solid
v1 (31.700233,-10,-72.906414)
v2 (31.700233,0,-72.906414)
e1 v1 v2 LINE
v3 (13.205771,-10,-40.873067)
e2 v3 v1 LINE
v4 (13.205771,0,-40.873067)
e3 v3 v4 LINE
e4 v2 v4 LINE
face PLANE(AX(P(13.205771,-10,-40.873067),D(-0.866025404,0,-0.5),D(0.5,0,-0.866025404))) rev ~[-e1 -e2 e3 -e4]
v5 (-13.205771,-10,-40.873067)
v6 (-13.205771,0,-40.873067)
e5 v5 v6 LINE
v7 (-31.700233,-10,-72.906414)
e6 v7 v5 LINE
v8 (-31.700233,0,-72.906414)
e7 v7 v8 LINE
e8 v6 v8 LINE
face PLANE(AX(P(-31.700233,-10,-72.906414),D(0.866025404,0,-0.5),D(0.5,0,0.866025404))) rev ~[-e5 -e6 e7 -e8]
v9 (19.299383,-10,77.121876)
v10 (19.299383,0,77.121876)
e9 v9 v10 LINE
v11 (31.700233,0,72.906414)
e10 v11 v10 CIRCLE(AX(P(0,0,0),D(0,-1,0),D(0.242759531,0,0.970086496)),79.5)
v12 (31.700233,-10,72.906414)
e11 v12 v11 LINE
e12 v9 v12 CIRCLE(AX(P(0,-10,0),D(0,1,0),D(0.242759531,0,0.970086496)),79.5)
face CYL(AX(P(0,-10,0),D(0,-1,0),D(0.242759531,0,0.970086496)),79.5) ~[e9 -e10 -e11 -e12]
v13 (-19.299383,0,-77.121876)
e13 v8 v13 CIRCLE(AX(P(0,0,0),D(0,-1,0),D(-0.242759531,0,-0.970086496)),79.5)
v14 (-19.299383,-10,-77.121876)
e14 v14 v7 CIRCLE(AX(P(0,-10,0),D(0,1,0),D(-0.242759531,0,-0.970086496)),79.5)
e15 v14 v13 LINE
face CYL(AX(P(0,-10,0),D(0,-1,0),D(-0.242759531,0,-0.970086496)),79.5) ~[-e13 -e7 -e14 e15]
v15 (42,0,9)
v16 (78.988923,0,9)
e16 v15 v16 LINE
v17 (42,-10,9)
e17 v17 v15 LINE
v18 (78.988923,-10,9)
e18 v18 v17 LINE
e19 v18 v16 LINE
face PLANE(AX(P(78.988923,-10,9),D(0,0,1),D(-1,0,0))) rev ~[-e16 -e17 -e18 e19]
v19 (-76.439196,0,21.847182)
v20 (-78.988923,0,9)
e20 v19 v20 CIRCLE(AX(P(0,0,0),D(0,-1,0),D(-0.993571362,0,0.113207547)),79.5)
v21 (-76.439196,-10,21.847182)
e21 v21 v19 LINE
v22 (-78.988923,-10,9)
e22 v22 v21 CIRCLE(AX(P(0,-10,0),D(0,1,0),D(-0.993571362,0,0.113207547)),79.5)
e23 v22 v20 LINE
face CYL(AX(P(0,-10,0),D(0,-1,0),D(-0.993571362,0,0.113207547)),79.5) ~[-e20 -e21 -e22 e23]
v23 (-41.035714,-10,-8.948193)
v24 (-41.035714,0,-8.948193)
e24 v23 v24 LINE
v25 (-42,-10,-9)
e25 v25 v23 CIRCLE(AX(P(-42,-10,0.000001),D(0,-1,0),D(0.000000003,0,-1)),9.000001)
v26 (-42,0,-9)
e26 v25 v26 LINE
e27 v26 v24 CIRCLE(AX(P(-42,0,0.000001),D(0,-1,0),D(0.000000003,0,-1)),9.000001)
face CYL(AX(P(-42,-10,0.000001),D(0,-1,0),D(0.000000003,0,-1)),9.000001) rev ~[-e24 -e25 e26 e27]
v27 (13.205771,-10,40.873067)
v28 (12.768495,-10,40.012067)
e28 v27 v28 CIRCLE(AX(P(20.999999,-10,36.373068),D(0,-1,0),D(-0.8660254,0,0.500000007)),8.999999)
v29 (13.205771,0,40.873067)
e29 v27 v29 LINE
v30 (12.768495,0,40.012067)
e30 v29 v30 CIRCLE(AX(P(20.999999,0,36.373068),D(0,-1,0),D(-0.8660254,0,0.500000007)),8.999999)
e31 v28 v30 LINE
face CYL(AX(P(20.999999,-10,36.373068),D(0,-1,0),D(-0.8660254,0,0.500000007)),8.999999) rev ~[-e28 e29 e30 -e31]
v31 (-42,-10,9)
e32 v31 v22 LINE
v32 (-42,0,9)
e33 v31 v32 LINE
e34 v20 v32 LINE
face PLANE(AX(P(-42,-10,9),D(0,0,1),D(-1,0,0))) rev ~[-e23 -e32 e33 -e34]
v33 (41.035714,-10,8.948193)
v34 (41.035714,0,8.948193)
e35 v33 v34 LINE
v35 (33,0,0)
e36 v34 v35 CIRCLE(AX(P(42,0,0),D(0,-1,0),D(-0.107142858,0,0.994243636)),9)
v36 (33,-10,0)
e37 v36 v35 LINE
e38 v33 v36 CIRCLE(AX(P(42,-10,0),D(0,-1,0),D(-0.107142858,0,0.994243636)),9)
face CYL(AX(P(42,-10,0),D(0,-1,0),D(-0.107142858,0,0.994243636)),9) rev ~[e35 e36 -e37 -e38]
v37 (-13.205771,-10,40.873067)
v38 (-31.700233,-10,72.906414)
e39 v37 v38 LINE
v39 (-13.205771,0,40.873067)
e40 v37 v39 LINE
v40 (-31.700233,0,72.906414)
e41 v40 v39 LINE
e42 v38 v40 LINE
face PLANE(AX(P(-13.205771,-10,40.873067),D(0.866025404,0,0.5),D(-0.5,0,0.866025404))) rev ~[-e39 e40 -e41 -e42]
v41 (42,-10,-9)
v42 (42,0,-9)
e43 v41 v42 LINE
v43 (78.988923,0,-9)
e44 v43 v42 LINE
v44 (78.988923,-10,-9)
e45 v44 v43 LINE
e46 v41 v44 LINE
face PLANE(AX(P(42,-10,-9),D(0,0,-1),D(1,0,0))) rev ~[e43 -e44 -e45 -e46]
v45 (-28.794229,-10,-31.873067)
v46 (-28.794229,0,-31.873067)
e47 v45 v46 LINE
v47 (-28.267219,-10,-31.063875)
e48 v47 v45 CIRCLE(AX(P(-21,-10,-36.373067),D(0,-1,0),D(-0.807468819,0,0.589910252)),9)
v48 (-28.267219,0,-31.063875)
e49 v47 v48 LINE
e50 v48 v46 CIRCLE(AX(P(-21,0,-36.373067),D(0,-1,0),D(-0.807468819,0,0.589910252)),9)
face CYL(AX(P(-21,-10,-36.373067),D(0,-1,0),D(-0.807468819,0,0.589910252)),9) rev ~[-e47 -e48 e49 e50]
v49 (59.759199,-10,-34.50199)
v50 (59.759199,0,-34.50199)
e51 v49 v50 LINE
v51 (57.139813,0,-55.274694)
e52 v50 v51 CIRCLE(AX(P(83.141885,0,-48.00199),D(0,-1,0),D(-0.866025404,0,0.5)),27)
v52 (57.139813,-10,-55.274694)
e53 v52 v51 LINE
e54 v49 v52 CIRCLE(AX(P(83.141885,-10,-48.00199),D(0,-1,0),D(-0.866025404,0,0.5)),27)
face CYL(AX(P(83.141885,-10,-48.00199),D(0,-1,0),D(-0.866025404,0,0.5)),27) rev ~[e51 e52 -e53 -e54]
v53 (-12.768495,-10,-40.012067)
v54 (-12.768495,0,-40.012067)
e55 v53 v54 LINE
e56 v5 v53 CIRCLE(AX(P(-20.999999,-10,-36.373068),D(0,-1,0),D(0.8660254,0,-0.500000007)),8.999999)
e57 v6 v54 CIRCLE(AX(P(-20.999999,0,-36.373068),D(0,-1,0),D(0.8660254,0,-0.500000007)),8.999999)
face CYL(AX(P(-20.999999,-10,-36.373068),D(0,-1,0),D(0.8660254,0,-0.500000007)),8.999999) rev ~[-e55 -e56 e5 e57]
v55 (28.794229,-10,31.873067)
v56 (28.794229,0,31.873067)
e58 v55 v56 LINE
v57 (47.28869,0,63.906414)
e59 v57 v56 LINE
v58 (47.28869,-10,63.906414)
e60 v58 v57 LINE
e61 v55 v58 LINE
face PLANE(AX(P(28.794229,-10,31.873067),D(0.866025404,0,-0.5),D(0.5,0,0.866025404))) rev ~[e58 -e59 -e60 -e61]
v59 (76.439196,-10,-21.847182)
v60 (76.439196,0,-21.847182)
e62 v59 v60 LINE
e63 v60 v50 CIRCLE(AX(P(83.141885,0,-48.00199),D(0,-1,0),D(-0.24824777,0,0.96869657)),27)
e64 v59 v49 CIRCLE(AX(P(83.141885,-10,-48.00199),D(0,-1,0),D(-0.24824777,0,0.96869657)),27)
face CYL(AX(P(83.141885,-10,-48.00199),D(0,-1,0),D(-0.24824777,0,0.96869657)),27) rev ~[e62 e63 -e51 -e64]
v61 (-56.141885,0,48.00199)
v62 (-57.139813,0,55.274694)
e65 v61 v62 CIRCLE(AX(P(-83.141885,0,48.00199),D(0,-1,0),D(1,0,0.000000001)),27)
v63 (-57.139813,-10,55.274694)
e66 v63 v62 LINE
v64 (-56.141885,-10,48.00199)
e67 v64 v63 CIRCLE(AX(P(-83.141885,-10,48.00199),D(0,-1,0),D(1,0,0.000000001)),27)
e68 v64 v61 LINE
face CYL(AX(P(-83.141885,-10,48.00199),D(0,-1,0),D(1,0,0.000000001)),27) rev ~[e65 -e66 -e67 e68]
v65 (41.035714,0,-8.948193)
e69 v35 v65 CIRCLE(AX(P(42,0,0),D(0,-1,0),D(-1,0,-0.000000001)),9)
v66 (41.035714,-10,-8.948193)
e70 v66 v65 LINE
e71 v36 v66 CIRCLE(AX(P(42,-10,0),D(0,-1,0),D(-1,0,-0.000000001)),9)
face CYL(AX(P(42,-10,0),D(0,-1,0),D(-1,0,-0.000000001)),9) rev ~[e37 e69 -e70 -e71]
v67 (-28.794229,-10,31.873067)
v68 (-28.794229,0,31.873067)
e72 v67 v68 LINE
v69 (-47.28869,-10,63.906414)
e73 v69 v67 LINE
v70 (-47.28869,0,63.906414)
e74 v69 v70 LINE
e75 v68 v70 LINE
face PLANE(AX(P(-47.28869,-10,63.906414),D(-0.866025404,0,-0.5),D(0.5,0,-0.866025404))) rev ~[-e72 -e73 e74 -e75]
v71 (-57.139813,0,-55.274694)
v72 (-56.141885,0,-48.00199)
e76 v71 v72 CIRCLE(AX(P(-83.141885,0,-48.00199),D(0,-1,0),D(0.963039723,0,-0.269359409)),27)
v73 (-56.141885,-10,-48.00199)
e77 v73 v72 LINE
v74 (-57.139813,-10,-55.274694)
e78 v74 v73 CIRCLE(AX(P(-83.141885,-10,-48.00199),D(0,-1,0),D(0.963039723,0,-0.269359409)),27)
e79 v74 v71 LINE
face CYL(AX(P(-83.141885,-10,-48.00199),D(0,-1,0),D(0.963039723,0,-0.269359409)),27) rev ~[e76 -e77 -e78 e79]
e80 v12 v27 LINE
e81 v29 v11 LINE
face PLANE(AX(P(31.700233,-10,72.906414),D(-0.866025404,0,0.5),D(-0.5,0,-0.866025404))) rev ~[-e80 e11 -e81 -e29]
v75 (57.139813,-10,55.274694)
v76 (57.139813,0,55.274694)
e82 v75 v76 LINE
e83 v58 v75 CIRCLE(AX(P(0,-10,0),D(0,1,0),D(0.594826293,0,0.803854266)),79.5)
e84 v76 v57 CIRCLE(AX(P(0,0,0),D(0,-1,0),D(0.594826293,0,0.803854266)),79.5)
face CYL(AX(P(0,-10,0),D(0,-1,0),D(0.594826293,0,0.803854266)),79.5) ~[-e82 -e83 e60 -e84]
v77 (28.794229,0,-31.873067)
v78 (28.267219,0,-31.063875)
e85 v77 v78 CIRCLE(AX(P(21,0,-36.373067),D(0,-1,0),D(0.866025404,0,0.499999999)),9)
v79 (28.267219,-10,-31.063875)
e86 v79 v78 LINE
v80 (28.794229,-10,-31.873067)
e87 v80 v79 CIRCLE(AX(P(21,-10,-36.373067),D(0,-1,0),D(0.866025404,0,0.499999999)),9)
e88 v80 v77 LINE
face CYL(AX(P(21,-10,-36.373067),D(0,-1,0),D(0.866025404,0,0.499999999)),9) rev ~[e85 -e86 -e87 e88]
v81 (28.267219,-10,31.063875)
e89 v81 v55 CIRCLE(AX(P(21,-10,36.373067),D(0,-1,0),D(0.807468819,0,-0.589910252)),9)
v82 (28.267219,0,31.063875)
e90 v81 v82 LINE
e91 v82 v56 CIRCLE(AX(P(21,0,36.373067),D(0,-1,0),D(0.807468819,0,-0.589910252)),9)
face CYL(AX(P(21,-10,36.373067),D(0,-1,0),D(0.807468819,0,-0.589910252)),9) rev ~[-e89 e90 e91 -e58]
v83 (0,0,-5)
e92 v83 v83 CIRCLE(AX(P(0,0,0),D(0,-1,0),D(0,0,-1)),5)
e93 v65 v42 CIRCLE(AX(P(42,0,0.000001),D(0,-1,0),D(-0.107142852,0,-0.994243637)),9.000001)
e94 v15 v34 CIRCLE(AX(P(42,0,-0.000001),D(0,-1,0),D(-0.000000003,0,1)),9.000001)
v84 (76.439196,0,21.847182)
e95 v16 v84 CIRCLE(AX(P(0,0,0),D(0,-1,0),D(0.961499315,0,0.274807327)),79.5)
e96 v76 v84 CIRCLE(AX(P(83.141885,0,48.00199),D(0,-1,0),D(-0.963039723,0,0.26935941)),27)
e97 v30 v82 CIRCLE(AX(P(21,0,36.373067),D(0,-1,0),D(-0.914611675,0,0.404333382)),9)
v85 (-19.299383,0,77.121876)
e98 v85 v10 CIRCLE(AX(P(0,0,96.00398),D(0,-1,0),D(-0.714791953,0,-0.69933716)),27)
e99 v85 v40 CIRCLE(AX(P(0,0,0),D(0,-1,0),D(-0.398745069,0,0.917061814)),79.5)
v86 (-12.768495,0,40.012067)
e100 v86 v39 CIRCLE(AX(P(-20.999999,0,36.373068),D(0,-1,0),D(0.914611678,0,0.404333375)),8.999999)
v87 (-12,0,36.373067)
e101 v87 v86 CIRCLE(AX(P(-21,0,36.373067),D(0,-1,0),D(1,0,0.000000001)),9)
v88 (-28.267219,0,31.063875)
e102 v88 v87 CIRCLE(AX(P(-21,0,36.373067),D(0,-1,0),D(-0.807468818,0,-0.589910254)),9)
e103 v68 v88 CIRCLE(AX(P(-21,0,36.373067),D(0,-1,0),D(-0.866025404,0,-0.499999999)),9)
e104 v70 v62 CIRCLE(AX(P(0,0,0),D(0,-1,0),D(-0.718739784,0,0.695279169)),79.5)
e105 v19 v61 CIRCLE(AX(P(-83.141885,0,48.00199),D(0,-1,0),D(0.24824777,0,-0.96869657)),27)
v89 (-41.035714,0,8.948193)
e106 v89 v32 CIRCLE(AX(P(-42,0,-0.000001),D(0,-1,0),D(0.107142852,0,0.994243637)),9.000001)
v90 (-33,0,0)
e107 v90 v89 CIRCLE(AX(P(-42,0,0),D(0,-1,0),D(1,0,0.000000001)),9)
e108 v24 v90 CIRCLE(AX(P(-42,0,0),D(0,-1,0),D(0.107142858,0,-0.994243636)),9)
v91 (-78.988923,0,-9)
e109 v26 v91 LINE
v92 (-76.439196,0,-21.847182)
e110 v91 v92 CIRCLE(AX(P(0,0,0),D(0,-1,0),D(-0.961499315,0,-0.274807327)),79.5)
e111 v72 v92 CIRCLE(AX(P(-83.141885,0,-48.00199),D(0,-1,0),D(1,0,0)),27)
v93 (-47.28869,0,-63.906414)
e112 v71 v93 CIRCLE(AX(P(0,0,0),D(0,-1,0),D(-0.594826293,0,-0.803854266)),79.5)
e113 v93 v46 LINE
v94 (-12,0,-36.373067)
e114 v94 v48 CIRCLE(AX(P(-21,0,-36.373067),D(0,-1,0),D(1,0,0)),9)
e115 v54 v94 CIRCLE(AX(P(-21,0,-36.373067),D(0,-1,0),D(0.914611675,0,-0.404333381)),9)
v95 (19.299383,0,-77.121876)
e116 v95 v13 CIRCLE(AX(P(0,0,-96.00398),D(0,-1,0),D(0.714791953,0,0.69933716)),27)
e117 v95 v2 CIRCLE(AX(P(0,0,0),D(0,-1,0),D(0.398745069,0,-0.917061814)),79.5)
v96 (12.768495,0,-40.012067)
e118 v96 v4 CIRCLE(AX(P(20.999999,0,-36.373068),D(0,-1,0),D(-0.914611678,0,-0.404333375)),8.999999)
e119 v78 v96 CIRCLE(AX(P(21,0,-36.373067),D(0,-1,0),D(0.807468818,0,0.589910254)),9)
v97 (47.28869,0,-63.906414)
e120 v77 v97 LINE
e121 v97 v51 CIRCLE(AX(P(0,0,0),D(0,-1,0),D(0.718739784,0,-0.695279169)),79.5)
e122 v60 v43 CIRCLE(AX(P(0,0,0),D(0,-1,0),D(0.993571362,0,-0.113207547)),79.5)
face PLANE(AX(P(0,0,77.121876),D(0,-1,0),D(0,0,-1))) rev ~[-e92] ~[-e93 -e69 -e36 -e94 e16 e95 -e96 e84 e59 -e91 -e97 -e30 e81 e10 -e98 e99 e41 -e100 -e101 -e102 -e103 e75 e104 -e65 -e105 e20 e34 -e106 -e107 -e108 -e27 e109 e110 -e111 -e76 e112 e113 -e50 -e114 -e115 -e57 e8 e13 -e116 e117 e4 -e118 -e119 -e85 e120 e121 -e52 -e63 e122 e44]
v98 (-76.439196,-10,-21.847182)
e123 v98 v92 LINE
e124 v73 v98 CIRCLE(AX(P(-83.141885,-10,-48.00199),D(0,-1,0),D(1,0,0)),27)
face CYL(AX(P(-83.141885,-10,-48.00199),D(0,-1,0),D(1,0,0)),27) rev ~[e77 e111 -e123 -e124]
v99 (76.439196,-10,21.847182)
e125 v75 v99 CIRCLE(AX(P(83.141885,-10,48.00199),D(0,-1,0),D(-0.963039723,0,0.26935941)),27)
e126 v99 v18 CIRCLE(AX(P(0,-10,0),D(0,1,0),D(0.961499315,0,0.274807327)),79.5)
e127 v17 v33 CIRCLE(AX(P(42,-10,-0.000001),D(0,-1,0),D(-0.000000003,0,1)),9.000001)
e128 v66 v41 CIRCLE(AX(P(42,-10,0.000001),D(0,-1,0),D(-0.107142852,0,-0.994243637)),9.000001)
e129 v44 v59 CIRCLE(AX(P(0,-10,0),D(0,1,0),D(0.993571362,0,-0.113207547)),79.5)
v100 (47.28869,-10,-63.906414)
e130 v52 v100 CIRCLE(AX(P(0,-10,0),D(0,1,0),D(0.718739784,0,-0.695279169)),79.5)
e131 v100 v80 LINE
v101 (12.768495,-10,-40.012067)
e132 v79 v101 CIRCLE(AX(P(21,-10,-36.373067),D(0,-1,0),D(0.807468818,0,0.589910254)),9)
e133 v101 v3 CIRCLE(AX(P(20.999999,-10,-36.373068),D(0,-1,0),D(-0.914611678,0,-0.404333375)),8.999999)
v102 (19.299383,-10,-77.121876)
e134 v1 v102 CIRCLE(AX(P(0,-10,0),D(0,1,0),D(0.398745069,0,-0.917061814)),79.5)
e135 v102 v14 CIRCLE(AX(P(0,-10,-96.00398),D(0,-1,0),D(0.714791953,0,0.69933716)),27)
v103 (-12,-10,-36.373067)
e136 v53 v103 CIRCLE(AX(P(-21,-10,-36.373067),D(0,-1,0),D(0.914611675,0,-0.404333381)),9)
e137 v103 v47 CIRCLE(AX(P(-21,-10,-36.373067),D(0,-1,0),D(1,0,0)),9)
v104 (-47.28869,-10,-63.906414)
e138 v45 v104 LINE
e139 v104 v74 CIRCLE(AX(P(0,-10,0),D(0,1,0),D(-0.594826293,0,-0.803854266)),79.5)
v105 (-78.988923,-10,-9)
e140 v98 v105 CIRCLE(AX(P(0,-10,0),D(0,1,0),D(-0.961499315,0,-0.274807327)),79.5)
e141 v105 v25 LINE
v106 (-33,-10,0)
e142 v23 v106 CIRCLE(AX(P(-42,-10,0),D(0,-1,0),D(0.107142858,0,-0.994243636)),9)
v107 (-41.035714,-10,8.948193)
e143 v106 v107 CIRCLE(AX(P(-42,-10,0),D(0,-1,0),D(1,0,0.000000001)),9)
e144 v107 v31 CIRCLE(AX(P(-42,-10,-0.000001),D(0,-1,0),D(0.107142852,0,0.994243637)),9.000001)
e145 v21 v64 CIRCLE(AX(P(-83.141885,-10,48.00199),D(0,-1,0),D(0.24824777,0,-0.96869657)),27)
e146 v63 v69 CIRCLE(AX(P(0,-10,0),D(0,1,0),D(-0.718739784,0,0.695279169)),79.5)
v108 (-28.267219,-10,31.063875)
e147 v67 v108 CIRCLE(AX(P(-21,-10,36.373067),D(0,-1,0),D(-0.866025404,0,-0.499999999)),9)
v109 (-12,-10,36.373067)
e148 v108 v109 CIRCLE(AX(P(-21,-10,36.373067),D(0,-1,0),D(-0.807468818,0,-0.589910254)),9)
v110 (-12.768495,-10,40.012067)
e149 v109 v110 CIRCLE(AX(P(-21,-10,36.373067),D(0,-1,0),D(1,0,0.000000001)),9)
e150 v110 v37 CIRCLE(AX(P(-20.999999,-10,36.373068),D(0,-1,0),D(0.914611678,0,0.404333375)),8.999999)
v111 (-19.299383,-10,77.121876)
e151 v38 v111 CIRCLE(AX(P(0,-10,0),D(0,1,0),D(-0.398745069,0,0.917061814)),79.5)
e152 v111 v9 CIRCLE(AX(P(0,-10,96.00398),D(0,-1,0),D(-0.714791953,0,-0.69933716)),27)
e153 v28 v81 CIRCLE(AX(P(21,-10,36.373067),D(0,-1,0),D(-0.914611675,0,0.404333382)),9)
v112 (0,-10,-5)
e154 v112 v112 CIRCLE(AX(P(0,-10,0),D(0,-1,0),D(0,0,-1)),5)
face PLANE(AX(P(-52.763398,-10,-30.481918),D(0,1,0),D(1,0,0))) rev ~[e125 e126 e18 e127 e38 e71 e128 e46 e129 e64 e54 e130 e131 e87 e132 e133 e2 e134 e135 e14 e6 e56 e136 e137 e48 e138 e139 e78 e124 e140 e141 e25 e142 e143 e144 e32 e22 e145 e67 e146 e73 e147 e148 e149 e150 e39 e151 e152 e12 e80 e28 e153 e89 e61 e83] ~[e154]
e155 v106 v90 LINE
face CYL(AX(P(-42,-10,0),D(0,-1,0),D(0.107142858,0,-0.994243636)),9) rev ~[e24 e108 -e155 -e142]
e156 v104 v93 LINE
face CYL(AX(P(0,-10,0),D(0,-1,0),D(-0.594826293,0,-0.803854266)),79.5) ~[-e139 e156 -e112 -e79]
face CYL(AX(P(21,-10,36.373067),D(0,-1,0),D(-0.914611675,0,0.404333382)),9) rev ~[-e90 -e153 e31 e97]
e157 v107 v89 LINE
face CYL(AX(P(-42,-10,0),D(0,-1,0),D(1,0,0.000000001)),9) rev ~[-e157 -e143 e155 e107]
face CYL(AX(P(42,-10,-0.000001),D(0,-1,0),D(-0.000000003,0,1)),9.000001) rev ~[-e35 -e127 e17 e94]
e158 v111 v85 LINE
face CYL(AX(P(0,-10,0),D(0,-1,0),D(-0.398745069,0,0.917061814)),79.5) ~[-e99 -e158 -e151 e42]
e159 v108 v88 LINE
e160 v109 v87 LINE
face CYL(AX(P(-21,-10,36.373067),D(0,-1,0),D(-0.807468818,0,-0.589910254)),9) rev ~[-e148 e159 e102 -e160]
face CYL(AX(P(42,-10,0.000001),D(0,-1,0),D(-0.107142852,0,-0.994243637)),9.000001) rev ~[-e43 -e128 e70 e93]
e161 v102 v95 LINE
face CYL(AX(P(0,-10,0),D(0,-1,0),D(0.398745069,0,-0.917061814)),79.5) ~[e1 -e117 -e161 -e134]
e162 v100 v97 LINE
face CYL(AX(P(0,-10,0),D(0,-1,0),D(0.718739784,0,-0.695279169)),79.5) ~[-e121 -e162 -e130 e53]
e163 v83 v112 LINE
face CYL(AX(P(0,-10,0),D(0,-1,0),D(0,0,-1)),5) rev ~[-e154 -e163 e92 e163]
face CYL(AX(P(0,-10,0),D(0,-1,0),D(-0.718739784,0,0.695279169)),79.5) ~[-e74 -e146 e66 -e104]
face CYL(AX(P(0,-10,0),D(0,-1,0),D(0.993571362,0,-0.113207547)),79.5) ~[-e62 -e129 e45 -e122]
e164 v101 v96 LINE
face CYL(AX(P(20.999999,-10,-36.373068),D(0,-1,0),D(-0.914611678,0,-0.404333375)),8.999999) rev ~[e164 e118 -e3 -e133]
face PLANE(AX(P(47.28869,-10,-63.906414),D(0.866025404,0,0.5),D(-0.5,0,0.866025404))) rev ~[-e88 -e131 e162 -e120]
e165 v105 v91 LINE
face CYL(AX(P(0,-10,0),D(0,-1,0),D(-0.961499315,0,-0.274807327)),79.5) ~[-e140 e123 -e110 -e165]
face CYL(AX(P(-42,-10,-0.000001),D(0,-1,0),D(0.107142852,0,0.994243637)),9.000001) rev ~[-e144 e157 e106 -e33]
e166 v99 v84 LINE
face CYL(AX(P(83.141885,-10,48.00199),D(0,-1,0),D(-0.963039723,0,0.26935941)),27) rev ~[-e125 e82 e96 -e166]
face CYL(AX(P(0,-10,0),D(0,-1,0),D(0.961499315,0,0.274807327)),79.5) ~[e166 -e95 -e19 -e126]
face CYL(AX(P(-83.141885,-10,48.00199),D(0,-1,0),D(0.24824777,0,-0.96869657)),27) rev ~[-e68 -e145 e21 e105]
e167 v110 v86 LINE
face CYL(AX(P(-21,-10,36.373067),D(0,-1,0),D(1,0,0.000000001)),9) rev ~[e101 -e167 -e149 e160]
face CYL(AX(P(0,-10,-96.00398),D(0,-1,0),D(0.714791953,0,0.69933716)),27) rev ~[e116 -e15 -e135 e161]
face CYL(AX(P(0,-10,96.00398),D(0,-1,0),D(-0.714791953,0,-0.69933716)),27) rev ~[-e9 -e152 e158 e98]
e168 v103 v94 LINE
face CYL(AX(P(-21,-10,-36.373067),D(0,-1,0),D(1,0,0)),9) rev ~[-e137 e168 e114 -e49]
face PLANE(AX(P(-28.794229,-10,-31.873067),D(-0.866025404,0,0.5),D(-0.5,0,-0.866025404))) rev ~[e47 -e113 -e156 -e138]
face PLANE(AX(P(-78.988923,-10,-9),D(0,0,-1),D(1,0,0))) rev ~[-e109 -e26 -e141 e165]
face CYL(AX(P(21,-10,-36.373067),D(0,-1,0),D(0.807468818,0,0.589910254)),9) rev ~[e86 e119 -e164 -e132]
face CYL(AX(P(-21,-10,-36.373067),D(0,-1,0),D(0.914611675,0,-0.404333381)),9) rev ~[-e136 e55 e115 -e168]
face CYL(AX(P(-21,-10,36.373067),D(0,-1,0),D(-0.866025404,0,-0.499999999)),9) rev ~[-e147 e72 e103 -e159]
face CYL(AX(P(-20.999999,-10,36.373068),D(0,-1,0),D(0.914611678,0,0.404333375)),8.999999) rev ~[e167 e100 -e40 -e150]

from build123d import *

# Parameters (mm, degrees)
EXTRUDE_2_DEPTH     = 10
SCALE_2_SCALE       = 3
SKETCH_5_W          = 154.243752884
SKETCH_5_H          = 20
CUT_EXTRUDE_1_DEPTH = 113.5
SKETCH_6_R          = 5
CUT_EXTRUDE_2_DEPTH = 113.5


with BuildPart() as part:
    # 草图4 → 凸台-拉伸2 (new body)
    with BuildSketch(Plane(origin=(0, 0, 0), x_dir=(1, 0, 0), z_dir=(0, 1, 0))):
        with BuildLine():
            ThreePointArc((-13.678571429, 2.982730909), (-12.124355653, 7), (-9.422406454, 10.35462489))
            ThreePointArc((-9.422406454, 10.35462489), (-9.513861615, 10.487132461), (-9.598076211, 10.624355653))
            Line((-9.598076211, 10.624355653), (-15.762896757, 21.302138058))
            ThreePointArc((-15.762896757, 21.302138058), (-17.464105133, 19.93125766), (-19.046604272, 18.424897983))
            ThreePointArc((-19.046604272, 18.424897983), (-18.7975102, 17.224138351), (-18.71396178, 16.000663294))
            ThreePointArc((-18.71396178, 16.000663294), (-20.603825728, 10.482877024), (-25.479731852, 7.282394164))
            ThreePointArc((-25.479731852, 7.282394164), (-25.993028029, 5.158729869), (-26.329641091, 3))
            Line((-26.329641091, 3), (-14, 3))
            ThreePointArc((-14, 3), (-13.839053931, 2.995679616), (-13.678571429, 2.982730909))
        make_face()
        with BuildLine():
            ThreePointArc((13.678571429, -2.982730909), (11.767928573, -2.004459314), (11, 0))
            Line((11, 0), (0, 0))
            Line((0, 0), (12.124355653, 7))
            ThreePointArc((12.124355653, 7), (10.903170014, 8.781849671), (9.422406454, 10.35462489))
            ThreePointArc((9.422406454, 10.35462489), (5.5, 9.526279442), (4.256164975, 13.337355799))
            ThreePointArc((4.256164975, 13.337355799), (0, 14), (-4.256164975, 13.337355799))
            ThreePointArc((-4.256164975, 13.337355799), (-4.064739784, 12.744232626), (-4, 12.124355653))
            ThreePointArc((-4, 12.124355653), (-6.069199098, 9.272407252), (-9.422406454, 10.35462489))
            ThreePointArc((-9.422406454, 10.35462489), (-12.124355653, 7), (-13.678571429, 2.982730909))
            ThreePointArc((-13.678571429, 2.982730909), (-11.767928573, 2.004459314), (-11, 0))
            ThreePointArc((-11, 0), (-11.767928573, -2.004459314), (-13.678571429, -2.982730909))
            ThreePointArc((-13.678571429, -2.982730909), (-12.124355653, -7), (-9.422406454, -10.35462489))
            ThreePointArc((-9.422406454, -10.35462489), (-6.069199098, -9.272407252), (-4, -12.124355653))
            ThreePointArc((-4, -12.124355653), (-4.064739784, -12.744232626), (-4.256164975, -13.337355799))
            ThreePointArc((-4.256164975, -13.337355799), (0, -14), (4.256164975, -13.337355799))
            ThreePointArc((4.256164975, -13.337355799), (5.5, -9.526279442), (9.422406454, -10.35462489))
            ThreePointArc((9.422406454, -10.35462489), (12.124355653, -7), (13.678571429, -2.982730909))
        make_face()
        with BuildLine():
            ThreePointArc((-4.256164975, 13.337355799), (0, 14), (4.256164975, 13.337355799))
            ThreePointArc((4.256164975, 13.337355799), (4.325192316, 13.482812077), (4.401923789, 13.624355653))
            Line((4.401923789, 13.624355653), (10.566744334, 24.302138058))
            ThreePointArc((10.566744334, 24.302138058), (8.528922897, 25.089987529), (6.433127579, 25.707292147))
            ThreePointArc((6.433127579, 25.707292147), (0, 23.001326589), (-6.433127579, 25.707292147))
            ThreePointArc((-6.433127579, 25.707292147), (-8.528922897, 25.089987529), (-10.566744334, 24.302138058))
            Line((-10.566744334, 24.302138058), (-4.401923789, 13.624355653))
            ThreePointArc((-4.401923789, 13.624355653), (-4.325192316, 13.482812077), (-4.256164975, 13.337355799))
        make_face()
        with BuildLine():
            ThreePointArc((9.422406454, 10.35462489), (10.903170014, 8.781849671), (12.124355653, 7))
            Line((12.124355653, 7), (19.919733146, 11.500663294))
            ThreePointArc((19.919733146, 11.500663294), (18.784672274, 14.874701965), (19.046604272, 18.424897983))
            ThreePointArc((19.046604272, 18.424897983), (17.464105133, 19.93125766), (15.762896757, 21.302138058))
            Line((15.762896757, 21.302138058), (9.598076211, 10.624355653))
            ThreePointArc((9.598076211, 10.624355653), (9.513861615, 10.487132461), (9.422406454, 10.35462489))
        make_face()
        with BuildLine():
            ThreePointArc((12.124355653, 7), (13.056889914, 5.051497379), (13.678571429, 2.982730909))
            ThreePointArc((13.678571429, 2.982730909), (13.839053931, 2.995679616), (14, 3))
            Line((14, 3), (26.329641091, 3))
            ThreePointArc((26.329641091, 3), (25.993028029, 5.158729869), (25.479731852, 7.282394164))
            ThreePointArc((25.479731852, 7.282394164), (22.274205913, 8.830652409), (19.919733146, 11.500663294))
            Line((19.919733146, 11.500663294), (12.124355653, 7))
        make_face()
        with BuildLine():
            ThreePointArc((14, -3), (13.839053931, -2.995679616), (13.678571429, -2.982730909))
            ThreePointArc((13.678571429, -2.982730909), (12.124355653, -7), (9.422406454, -10.35462489))
            ThreePointArc((9.422406454, -10.35462489), (9.513861615, -10.487132461), (9.598076211, -10.624355653))
            Line((9.598076211, -10.624355653), (15.762896757, -21.302138058))
            ThreePointArc((15.762896757, -21.302138058), (17.464105133, -19.93125766), (19.046604272, -18.424897983))
            ThreePointArc((19.046604272, -18.424897983), (19.919733146, -11.500663294), (25.479731852, -7.282394164))
            ThreePointArc((25.479731852, -7.282394164), (25.993028029, -5.158729869), (26.329641091, -3))
            Line((26.329641091, -3), (14, -3))
        make_face()
        with BuildLine():
            ThreePointArc((4.401923789, -13.624355653), (4.325192316, -13.482812077), (4.256164975, -13.337355799))
            ThreePointArc((4.256164975, -13.337355799), (0, -14), (-4.256164975, -13.337355799))
            ThreePointArc((-4.256164975, -13.337355799), (-4.325192316, -13.482812077), (-4.401923789, -13.624355653))
            Line((-4.401923789, -13.624355653), (-10.566744334, -24.302138058))
            ThreePointArc((-10.566744334, -24.302138058), (-8.528922897, -25.089987529), (-6.433127579, -25.707292147))
            ThreePointArc((-6.433127579, -25.707292147), (0, -23.001326589), (6.433127579, -25.707292147))
            ThreePointArc((6.433127579, -25.707292147), (8.528922897, -25.089987529), (10.566744334, -24.302138058))
            Line((10.566744334, -24.302138058), (4.401923789, -13.624355653))
        make_face()
        with BuildLine():
            ThreePointArc((-9.598076211, -10.624355653), (-9.513861615, -10.487132461), (-9.422406454, -10.35462489))
            ThreePointArc((-9.422406454, -10.35462489), (-12.124355653, -7), (-13.678571429, -2.982730909))
            ThreePointArc((-13.678571429, -2.982730909), (-13.839053931, -2.995679616), (-14, -3))
            Line((-14, -3), (-26.329641091, -3))
            ThreePointArc((-26.329641091, -3), (-25.993028029, -5.158729869), (-25.479731852, -7.282394164))
            ThreePointArc((-25.479731852, -7.282394164), (-20.603825728, -10.482877024), (-18.71396178, -16.000663294))
            ThreePointArc((-18.71396178, -16.000663294), (-18.7975102, -17.224138351), (-19.046604272, -18.424897983))
            ThreePointArc((-19.046604272, -18.424897983), (-17.464105133, -19.93125766), (-15.762896757, -21.302138058))
            Line((-15.762896757, -21.302138058), (-9.598076211, -10.624355653))
        make_face()
        with BuildLine():
            Line((0, 0), (11, 0))
            ThreePointArc((11, 0), (11.767928573, 2.004459314), (13.678571429, 2.982730909))
            ThreePointArc((13.678571429, 2.982730909), (13.056889914, 5.051497379), (12.124355653, 7))
            Line((12.124355653, 7), (0, 0))
        make_face()
    extrude(amount=EXTRUDE_2_DEPTH)


with BuildPart() as part_1:
    # 缩放比例2: scaled about (0, 5, 0)
    add(part.part.scale(SCALE_2_SCALE).moved(Location((0, -10, 0))))

    # 草图5 → 切除-拉伸1 (cut, symmetric)
    with BuildSketch(Plane(origin=(0, 0, 0), x_dir=(0, 0, -1), z_dir=(1, 0, 0))):
        with Locations((0, 10)):
            Rectangle(SKETCH_5_W, SKETCH_5_H)
    extrude(amount=CUT_EXTRUDE_1_DEPTH, both=True, mode=Mode.SUBTRACT)

    # 草图6 → 切除-拉伸2 (cut, symmetric)
    with BuildSketch(Plane.XZ.offset(10)):
        with Locations(Location((0, 0, 0), (0, 0, 270))):
            Circle(SKETCH_6_R)
    extrude(amount=CUT_EXTRUDE_2_DEPTH, both=True, mode=Mode.SUBTRACT)


solid = part_1.part
